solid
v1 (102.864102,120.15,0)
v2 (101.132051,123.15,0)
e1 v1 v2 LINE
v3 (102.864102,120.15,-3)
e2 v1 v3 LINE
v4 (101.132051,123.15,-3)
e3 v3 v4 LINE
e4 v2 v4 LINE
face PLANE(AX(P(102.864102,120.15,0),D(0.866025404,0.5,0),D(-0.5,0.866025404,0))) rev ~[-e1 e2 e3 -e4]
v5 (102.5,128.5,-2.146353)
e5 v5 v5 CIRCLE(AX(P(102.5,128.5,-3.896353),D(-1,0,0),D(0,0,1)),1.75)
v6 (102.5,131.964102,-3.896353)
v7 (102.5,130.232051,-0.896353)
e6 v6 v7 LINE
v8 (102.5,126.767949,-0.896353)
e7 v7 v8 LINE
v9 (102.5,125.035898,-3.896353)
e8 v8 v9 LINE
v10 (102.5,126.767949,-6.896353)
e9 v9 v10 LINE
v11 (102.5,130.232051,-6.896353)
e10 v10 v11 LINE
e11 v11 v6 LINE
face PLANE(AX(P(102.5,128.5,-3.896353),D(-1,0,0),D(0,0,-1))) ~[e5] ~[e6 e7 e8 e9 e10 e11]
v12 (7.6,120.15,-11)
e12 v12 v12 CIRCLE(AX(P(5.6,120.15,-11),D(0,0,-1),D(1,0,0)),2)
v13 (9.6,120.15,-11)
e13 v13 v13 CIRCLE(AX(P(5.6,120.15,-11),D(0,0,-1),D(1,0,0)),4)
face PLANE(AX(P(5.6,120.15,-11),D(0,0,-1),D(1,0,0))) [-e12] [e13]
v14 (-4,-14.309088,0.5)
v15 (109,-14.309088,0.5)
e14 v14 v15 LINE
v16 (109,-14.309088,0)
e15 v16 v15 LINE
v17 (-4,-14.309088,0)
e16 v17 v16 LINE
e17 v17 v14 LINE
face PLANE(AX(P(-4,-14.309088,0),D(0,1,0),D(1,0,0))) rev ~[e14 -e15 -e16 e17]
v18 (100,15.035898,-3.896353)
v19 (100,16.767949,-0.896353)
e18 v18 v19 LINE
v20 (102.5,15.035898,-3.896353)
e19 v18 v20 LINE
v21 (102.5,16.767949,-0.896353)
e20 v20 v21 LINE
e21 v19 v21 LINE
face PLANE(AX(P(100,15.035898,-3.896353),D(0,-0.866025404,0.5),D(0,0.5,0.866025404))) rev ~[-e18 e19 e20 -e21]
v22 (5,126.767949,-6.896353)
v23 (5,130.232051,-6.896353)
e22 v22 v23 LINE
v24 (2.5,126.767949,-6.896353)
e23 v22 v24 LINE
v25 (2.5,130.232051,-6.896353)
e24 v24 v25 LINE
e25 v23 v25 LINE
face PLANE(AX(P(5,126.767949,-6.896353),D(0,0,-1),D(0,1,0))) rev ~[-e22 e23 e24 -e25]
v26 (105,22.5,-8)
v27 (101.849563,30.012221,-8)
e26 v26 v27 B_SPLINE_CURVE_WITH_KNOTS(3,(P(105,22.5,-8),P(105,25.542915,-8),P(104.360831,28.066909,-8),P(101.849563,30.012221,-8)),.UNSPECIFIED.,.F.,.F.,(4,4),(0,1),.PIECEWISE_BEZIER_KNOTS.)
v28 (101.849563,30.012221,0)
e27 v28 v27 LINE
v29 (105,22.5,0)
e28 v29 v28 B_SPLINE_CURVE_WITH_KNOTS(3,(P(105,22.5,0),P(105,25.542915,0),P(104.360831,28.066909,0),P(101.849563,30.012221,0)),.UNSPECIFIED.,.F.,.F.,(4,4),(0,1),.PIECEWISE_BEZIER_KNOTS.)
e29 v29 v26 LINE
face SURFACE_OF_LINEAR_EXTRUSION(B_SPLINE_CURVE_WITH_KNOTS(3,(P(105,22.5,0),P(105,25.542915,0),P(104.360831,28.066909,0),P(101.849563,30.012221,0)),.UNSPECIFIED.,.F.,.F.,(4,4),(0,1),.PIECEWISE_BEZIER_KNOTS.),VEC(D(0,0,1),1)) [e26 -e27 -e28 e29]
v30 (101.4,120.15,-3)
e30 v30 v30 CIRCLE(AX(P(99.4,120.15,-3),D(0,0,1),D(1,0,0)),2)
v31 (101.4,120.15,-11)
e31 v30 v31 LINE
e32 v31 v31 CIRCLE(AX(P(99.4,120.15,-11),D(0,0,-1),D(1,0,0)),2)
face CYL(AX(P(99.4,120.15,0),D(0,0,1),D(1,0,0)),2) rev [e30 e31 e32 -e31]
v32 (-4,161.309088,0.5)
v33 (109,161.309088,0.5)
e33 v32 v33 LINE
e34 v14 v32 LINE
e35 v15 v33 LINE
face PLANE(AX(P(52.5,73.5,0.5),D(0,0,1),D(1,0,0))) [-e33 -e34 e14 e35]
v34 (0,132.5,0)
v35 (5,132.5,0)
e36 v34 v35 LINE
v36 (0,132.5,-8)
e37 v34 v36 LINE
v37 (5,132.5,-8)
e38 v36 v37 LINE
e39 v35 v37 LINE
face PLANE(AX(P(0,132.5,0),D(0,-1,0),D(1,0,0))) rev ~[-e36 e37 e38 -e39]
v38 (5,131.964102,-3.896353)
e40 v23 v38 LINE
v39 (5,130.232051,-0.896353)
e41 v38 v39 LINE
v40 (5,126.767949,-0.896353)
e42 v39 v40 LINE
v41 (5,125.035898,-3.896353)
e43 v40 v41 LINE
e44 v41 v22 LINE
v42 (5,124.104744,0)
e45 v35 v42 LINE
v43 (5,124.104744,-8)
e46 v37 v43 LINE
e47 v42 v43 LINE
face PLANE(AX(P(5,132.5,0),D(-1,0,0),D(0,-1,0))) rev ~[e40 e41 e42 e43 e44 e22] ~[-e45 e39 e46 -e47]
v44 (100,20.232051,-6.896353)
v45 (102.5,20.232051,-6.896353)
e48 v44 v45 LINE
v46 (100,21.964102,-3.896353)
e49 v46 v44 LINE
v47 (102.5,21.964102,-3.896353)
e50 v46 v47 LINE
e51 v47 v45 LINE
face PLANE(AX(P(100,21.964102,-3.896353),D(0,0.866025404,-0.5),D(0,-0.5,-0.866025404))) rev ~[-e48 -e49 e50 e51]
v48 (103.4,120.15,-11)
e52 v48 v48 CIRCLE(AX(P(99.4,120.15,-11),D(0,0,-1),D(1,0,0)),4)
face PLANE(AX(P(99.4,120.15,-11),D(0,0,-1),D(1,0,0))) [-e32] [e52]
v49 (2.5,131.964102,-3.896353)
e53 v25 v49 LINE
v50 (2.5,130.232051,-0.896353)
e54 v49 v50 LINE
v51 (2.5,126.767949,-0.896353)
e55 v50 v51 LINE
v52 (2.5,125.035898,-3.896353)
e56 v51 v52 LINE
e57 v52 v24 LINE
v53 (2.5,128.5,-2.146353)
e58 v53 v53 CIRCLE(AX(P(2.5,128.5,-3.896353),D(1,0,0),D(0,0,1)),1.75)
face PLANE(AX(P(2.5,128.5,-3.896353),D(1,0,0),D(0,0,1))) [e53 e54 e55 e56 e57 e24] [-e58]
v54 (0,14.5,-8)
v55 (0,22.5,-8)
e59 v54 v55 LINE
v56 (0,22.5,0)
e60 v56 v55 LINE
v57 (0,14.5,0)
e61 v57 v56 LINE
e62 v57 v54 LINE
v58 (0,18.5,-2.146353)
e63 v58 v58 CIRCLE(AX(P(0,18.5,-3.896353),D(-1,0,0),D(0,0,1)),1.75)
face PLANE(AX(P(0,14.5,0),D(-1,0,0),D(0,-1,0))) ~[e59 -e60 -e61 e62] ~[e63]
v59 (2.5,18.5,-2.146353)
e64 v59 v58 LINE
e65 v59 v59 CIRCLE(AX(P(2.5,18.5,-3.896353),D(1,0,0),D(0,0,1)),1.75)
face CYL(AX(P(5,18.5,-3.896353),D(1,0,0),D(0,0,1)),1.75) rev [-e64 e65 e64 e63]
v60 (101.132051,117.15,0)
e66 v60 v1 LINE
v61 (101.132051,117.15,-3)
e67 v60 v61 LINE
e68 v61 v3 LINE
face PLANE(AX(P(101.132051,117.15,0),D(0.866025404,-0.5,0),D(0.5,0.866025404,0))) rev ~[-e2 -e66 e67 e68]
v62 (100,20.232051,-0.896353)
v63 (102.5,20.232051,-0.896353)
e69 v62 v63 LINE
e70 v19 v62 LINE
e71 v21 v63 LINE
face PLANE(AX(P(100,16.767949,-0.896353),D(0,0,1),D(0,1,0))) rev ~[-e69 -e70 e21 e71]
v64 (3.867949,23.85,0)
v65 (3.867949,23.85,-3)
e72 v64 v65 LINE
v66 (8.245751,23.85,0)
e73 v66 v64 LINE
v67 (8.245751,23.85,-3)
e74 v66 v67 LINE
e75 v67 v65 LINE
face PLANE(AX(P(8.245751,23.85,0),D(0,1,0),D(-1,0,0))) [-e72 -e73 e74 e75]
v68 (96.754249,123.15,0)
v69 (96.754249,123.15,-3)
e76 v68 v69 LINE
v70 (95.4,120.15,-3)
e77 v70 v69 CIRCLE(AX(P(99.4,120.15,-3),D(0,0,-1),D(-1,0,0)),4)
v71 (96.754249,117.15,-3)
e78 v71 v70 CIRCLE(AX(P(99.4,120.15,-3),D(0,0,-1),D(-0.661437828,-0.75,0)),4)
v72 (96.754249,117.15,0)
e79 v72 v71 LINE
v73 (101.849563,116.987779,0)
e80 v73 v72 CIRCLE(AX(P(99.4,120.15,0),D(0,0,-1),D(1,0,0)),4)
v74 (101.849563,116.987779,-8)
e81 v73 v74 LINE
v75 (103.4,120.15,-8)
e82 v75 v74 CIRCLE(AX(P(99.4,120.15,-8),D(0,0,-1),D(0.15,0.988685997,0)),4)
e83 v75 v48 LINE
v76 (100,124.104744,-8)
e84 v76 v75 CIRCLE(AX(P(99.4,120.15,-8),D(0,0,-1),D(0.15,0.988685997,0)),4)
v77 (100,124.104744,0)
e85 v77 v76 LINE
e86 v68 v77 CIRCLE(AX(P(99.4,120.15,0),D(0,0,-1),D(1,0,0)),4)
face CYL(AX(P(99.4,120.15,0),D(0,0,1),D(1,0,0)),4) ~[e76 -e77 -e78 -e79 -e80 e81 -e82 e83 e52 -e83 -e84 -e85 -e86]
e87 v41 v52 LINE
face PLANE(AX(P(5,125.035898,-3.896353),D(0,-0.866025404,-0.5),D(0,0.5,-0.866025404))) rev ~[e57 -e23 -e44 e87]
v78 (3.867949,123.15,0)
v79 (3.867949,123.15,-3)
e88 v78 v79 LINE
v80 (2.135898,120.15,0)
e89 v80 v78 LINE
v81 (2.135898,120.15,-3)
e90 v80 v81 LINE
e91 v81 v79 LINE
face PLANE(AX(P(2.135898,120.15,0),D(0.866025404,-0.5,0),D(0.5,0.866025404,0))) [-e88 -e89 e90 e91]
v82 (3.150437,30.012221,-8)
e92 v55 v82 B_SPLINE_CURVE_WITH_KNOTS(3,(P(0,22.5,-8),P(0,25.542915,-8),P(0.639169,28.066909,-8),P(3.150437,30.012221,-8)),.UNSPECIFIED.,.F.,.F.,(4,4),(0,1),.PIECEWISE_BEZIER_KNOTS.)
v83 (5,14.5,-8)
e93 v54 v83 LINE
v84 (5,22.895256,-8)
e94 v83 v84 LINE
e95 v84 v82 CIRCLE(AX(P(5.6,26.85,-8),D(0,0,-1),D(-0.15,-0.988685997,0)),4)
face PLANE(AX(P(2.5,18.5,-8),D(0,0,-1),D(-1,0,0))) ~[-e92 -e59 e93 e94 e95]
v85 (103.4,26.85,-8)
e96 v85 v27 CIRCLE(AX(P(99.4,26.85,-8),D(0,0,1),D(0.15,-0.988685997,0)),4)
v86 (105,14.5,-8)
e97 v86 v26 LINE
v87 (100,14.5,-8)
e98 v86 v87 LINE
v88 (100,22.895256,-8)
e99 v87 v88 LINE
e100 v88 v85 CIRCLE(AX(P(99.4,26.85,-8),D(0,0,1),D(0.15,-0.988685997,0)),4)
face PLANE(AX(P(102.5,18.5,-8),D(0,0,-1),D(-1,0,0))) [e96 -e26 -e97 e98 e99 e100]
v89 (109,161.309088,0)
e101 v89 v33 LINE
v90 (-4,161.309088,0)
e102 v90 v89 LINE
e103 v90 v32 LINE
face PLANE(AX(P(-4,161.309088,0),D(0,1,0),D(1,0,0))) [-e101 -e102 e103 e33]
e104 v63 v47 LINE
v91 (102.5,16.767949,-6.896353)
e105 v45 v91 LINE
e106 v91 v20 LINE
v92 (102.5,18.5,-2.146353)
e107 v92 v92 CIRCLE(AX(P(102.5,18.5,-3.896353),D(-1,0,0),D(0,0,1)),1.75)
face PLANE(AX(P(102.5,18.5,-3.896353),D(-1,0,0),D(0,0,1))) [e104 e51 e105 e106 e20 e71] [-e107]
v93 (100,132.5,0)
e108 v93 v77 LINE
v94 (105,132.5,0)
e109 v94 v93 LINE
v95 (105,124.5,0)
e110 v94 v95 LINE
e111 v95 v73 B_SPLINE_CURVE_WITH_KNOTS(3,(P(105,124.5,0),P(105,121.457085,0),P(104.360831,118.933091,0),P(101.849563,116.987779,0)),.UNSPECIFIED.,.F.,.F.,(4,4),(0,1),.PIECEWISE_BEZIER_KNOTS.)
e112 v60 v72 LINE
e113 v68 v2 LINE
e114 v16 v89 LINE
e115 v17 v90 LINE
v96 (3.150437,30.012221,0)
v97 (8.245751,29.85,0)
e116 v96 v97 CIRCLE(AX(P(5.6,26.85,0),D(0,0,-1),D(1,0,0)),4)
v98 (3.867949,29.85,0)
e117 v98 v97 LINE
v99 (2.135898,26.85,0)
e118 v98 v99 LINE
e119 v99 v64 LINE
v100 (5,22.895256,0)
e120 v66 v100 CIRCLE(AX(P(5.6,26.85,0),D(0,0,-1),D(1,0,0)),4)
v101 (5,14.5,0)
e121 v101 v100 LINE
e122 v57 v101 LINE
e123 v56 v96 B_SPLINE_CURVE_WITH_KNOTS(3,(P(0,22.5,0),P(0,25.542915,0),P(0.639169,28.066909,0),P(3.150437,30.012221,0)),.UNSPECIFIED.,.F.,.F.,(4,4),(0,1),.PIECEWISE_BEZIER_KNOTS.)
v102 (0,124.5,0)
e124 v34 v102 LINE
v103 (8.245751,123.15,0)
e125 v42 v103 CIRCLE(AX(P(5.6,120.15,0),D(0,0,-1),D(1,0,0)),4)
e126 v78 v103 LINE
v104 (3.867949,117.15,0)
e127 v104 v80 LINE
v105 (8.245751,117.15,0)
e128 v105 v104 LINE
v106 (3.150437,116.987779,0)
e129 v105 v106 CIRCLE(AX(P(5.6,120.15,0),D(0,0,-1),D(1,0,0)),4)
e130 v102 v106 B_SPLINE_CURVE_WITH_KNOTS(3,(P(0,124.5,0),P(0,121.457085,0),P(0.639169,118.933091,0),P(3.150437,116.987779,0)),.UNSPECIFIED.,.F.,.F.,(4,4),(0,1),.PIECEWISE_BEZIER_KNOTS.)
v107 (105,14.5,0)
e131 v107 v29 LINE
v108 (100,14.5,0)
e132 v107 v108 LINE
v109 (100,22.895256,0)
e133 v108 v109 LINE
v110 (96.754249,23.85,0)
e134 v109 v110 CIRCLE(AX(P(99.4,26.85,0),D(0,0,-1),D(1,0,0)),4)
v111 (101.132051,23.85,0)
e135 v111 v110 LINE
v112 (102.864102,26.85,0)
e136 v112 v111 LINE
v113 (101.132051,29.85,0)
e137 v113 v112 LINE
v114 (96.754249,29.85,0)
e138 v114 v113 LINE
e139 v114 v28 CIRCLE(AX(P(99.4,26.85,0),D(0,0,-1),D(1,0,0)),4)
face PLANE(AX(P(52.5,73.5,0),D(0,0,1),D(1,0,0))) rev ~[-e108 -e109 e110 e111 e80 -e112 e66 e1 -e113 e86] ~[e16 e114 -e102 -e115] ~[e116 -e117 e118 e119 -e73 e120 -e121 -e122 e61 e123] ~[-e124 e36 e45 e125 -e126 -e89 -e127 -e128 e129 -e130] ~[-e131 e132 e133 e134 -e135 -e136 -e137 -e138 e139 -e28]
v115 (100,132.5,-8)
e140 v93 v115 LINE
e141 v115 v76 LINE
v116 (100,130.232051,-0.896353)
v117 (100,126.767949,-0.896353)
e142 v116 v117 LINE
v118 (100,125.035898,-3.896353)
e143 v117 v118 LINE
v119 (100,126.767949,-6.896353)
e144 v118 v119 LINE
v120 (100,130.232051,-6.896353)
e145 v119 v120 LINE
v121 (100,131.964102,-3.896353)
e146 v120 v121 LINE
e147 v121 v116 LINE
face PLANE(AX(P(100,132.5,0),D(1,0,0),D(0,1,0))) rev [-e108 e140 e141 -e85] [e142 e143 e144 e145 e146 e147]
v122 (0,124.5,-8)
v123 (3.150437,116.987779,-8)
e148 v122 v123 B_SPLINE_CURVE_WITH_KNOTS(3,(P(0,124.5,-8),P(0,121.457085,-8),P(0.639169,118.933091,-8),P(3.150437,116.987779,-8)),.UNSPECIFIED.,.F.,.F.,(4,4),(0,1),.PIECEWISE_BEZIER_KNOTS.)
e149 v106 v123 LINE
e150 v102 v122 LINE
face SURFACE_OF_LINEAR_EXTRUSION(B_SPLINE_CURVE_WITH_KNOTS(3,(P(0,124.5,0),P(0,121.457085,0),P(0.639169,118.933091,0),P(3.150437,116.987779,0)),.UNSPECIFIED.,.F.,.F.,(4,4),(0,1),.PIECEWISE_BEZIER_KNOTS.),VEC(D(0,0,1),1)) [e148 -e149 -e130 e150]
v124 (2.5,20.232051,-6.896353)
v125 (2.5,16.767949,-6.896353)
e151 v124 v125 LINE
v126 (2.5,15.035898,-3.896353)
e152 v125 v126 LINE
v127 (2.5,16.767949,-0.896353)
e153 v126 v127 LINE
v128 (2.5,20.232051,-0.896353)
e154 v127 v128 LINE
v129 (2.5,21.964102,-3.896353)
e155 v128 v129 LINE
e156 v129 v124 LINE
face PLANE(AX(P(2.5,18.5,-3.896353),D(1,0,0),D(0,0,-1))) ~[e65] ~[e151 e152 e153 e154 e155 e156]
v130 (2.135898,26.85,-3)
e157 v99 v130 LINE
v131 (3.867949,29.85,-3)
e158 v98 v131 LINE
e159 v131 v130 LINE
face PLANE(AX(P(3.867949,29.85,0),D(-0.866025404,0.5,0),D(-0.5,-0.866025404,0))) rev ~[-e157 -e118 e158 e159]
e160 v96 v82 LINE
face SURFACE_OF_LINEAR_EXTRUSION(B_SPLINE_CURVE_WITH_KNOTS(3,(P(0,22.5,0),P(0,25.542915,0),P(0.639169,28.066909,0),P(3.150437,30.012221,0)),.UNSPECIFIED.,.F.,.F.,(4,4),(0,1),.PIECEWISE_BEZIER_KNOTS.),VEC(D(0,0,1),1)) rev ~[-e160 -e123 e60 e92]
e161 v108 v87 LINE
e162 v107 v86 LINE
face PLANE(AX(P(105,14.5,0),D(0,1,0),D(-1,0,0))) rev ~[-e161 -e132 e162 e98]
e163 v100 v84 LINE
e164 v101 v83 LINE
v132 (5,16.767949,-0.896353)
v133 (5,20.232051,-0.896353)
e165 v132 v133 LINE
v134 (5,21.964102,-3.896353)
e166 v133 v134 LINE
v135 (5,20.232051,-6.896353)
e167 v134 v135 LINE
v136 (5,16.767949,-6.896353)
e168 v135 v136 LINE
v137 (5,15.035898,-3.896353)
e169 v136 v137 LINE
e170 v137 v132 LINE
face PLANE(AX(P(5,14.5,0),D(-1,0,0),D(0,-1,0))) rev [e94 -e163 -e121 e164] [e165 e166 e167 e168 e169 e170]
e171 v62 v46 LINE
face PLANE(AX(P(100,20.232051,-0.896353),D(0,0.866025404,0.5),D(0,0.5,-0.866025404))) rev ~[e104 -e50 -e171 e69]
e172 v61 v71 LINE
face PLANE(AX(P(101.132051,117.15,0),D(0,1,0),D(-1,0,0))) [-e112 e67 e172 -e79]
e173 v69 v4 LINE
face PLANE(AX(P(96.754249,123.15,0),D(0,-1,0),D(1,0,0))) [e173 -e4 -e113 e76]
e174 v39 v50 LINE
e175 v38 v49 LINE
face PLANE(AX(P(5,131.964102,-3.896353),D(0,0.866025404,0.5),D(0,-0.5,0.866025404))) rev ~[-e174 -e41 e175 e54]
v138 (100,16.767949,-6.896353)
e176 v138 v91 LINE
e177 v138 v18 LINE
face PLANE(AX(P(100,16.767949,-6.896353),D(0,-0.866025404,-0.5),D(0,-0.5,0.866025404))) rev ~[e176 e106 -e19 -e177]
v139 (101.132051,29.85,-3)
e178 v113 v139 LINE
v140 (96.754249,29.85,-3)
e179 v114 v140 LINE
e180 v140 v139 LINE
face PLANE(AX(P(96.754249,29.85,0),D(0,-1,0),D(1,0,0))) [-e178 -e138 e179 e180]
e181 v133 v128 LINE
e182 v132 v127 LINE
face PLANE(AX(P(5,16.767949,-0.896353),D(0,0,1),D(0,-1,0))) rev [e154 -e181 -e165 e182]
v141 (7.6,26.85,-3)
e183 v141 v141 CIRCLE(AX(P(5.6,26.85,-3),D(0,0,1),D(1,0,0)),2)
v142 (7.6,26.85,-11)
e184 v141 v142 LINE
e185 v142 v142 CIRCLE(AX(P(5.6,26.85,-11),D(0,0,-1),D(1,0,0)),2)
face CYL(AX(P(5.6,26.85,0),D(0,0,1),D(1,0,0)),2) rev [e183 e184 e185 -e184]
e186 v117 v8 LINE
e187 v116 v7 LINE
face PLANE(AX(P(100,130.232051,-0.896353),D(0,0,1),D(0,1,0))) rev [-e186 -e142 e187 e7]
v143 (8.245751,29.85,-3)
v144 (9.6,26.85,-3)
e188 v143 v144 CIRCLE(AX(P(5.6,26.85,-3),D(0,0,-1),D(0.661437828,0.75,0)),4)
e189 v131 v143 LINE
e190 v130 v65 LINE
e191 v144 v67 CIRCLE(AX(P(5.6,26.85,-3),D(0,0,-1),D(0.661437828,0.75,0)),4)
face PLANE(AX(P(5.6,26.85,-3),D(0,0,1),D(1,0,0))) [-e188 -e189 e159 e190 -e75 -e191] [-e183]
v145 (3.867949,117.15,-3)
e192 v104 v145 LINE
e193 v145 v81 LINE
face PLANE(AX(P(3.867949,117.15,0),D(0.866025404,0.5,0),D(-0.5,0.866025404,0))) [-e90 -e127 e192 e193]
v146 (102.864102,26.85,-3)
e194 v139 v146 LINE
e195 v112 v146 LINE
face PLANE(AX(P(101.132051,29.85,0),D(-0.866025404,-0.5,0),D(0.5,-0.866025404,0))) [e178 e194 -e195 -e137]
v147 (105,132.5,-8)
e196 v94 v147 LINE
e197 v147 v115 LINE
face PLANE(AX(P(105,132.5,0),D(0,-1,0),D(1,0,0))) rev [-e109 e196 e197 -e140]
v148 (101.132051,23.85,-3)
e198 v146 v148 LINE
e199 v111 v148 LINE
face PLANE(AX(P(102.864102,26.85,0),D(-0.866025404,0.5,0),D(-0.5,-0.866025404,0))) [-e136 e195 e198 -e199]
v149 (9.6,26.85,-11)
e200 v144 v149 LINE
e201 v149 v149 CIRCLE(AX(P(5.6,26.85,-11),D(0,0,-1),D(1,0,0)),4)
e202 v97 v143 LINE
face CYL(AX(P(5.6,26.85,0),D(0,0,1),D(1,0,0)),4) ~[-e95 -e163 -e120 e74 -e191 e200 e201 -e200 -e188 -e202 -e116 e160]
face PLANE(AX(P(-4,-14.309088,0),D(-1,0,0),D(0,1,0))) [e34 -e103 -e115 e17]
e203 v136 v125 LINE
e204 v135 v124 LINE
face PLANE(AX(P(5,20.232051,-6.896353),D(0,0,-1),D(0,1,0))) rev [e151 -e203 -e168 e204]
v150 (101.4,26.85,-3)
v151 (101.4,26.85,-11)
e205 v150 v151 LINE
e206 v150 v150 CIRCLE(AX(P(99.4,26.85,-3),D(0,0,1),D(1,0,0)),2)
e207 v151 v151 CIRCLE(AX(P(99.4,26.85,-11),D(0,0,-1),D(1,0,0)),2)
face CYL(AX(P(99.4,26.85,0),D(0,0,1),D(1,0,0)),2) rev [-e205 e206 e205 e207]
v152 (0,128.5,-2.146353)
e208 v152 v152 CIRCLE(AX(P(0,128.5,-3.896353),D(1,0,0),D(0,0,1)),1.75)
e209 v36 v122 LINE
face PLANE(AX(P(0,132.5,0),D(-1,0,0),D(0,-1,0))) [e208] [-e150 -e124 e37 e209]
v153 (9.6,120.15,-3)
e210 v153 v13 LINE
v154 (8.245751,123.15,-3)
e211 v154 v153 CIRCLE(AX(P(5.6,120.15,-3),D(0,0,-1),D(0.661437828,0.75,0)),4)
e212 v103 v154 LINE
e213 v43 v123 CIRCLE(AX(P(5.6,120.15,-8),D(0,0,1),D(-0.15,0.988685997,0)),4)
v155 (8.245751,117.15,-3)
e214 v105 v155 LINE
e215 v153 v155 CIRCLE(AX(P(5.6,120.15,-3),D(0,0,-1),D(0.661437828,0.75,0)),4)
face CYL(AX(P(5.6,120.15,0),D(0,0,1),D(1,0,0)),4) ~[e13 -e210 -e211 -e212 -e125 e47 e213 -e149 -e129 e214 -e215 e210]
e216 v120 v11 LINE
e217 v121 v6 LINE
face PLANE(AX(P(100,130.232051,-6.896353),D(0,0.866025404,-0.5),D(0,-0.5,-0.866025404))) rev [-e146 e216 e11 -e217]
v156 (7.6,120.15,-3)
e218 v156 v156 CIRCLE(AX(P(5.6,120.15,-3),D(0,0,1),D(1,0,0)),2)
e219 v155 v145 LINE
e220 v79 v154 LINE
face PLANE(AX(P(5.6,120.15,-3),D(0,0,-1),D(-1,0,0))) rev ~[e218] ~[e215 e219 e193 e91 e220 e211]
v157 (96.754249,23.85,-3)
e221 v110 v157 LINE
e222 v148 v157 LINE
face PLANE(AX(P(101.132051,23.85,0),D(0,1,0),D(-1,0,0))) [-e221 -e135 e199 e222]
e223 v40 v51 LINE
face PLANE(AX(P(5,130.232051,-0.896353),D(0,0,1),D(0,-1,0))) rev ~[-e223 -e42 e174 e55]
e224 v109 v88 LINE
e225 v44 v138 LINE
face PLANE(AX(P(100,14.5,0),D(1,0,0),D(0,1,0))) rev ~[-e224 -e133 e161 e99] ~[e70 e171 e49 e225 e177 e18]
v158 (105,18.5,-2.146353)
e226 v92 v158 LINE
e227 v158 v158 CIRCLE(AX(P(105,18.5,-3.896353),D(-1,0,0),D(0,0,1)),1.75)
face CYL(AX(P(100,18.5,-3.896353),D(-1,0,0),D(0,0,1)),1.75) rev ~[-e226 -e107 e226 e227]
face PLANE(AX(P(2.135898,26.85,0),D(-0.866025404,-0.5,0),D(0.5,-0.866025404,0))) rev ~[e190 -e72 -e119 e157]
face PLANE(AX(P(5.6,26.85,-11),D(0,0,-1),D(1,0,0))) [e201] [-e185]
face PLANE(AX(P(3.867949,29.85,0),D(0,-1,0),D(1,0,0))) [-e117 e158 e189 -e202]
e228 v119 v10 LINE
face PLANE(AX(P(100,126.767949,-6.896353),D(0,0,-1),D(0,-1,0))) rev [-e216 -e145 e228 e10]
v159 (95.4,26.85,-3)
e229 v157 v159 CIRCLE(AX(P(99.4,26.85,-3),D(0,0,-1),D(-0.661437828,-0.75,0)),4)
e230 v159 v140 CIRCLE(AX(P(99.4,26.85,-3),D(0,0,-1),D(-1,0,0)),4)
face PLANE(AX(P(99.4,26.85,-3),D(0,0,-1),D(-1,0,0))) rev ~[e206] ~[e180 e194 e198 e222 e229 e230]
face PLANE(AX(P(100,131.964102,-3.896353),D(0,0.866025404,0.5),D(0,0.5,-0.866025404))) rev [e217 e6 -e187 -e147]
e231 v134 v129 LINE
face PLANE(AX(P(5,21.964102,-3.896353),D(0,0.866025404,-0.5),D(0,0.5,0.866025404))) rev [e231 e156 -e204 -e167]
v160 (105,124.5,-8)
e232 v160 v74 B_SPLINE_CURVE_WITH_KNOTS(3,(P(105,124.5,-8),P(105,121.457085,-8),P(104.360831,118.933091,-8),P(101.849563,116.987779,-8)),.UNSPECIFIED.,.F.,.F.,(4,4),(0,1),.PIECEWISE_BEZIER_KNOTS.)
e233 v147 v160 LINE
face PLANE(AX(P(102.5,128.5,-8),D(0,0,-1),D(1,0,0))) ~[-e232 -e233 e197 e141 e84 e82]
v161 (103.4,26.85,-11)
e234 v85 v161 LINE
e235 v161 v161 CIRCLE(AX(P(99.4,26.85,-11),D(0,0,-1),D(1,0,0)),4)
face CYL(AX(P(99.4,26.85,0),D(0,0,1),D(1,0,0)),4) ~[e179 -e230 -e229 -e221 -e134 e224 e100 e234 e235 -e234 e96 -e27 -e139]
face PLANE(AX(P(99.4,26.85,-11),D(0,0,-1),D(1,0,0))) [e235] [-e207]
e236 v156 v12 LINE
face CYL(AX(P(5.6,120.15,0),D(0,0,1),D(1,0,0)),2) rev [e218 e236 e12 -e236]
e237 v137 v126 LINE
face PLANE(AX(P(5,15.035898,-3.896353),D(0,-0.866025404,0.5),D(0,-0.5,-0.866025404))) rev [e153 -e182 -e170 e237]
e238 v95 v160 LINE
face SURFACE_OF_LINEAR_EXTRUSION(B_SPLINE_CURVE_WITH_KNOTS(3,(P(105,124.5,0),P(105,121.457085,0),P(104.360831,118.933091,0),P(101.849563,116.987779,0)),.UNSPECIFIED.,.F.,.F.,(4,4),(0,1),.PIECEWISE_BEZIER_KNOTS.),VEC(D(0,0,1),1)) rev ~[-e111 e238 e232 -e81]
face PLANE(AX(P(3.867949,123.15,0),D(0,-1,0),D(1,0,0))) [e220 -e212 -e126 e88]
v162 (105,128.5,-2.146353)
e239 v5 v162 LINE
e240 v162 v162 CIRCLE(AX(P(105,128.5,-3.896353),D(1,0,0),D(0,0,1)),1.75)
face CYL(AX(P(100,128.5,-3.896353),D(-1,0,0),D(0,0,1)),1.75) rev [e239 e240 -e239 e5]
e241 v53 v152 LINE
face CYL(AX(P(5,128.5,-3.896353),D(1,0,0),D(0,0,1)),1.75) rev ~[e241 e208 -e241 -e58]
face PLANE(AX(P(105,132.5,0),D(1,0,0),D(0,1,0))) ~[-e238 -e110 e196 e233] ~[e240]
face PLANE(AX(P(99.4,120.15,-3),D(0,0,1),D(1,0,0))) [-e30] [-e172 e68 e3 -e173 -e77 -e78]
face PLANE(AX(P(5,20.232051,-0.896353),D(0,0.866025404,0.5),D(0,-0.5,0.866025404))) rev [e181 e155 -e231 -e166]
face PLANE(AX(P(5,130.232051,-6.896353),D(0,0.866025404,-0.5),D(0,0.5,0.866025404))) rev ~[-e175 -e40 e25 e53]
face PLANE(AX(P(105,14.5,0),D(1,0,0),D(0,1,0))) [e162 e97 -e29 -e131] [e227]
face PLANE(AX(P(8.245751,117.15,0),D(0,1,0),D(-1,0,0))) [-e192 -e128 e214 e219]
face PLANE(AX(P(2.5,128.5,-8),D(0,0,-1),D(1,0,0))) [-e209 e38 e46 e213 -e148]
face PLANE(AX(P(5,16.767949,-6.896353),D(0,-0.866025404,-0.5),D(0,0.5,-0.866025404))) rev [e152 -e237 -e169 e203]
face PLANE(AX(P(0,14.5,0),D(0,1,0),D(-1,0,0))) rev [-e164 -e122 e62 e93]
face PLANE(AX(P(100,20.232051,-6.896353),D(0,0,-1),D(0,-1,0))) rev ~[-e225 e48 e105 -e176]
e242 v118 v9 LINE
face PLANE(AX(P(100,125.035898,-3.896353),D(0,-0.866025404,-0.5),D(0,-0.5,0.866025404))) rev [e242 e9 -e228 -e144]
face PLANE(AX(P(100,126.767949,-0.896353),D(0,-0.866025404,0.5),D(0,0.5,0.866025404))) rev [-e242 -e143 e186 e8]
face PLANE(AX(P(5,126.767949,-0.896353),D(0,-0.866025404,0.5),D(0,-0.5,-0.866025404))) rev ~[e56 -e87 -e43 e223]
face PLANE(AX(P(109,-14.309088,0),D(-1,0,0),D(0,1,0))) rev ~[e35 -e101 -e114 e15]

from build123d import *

# Parameters (mm, degrees)
SKETCH1_W               = 113
SKETCH1_H               = 175.618176042
BOSS_EXTRUDE1_DEPTH     = 0.5
SKETCH2_R               = 4
SKETCH2_R_2             = 2
BOSS_EXTRUDE2_DEPTH     = 11
CUT_EXTRUDE1_DEPTH      = 3
SKETCH4_W               = 5
SKETCH4_H               = 8
BOSS_EXTRUDE3_DEPTH     = 8
CUT_EXTRUDE2_REACH      = 194.244
SKETCH5_R               = 1.75
CUT_EXTRUDE3_DEPTH      = 2.5
MIRROR2_COPY_1_SKETCH_W = 5
MIRROR2_COPY_1_SKETCH_H = 8
MIRROR2_COPY_1_DEPTH    = 8
MIRROR2_COPY_2_REACH    = 194.244
MIRROR2_COPY_2_SKETCH_R = 1.75
MIRROR2_COPY_3_DEPTH    = 2.5


with BuildPart() as part:
    # Sketch1 → Boss-Extrude1 (new body)
    with BuildSketch(Plane.XY):
        with Locations((52.5, 73.5)):
            Rectangle(SKETCH1_W, SKETCH1_H)
    extrude(amount=BOSS_EXTRUDE1_DEPTH)

    # Sketch2 → Boss-Extrude2 (add)
    with BuildSketch(Plane(origin=(0, 0, 0), x_dir=(-1, 0, 0), z_dir=(0, 0, -1))):
        with Locations(Location((-5.6, 120.15, 0), (0, 0, 180))):
            Circle(SKETCH2_R)
        with Locations(Location((-5.6, 120.15, 0), (0, 0, 180))):
            Circle(SKETCH2_R_2, mode=Mode.SUBTRACT)
        with Locations(Location((-5.6, 26.85, 0), (0, 0, 180))):
            Circle(SKETCH2_R)
        with Locations(Location((-5.6, 26.85, 0), (0, 0, 180))):
            Circle(SKETCH2_R_2, mode=Mode.SUBTRACT)
        with Locations(Location((-99.4, 26.85, 0), (0, 0, 180))):
            Circle(SKETCH2_R)
        with Locations(Location((-99.4, 26.85, 0), (0, 0, 180))):
            Circle(SKETCH2_R_2, mode=Mode.SUBTRACT)
        with Locations(Location((-99.4, 120.15, 0), (0, 0, 180))):
            Circle(SKETCH2_R)
        with Locations(Location((-99.4, 120.15, 0), (0, 0, 180))):
            Circle(SKETCH2_R_2, mode=Mode.SUBTRACT)
    extrude(amount=BOSS_EXTRUDE2_DEPTH)

    # Sketch3 → Cut-Extrude1 (cut)
    with BuildSketch(Plane(origin=(0, 0, 0), x_dir=(-1, 0, 0), z_dir=(0, 0, -1))):
        Polygon((-101.132050808, 123.15), (-97.667949192, 123.15), (-95.935898385, 120.15), (-97.667949192, 117.15), (-101.132050808, 117.15), (-102.864101615, 120.15), align=None)
        with BuildLine():
            Line((-95.935898385, 120.15), (-97.667949192, 117.15))
            Line((-97.667949192, 117.15), (-96.754248689, 117.15))
            ThreePointArc((-96.754248689, 117.15), (-95.754248689, 118.504248689), (-95.4, 120.15))
            ThreePointArc((-95.4, 120.15), (-95.754248689, 121.795751311), (-96.754248689, 123.15))
            Line((-96.754248689, 123.15), (-97.667949192, 123.15))
            Line((-97.667949192, 123.15), (-95.935898385, 120.15))
        make_face()
        Polygon((-3.867949192, 123.15), (-7.332050808, 123.15), (-9.064101615, 120.15), (-7.332050808, 117.15), (-3.867949192, 117.15), (-2.135898385, 120.15), align=None)
        with BuildLine():
            Line((-9.064101615, 120.15), (-7.332050808, 123.15))
            Line((-7.332050808, 123.15), (-8.245751311, 123.15))
            ThreePointArc((-8.245751311, 123.15), (-9.6, 120.15), (-8.245751311, 117.15))
            Line((-8.245751311, 117.15), (-7.332050808, 117.15))
            Line((-7.332050808, 117.15), (-9.064101615, 120.15))
        make_face()
        Polygon((-3.867949192, 23.85), (-7.332050808, 23.85), (-9.064101615, 26.85), (-7.332050808, 29.85), (-3.867949192, 29.85), (-2.135898385, 26.85), align=None)
        with BuildLine():
            Line((-9.064101615, 26.85), (-7.332050808, 29.85))
            Line((-7.332050808, 29.85), (-8.245751311, 29.85))
            ThreePointArc((-8.245751311, 29.85), (-9.6, 26.85), (-8.245751311, 23.85))
            Line((-8.245751311, 23.85), (-7.332050808, 23.85))
            Line((-7.332050808, 23.85), (-9.064101615, 26.85))
        make_face()
        Polygon((-101.132050808, 23.85), (-97.667949192, 23.85), (-95.935898385, 26.85), (-97.667949192, 29.85), (-101.132050808, 29.85), (-102.864101615, 26.85), align=None)
        with BuildLine():
            Line((-95.935898385, 26.85), (-97.667949192, 23.85))
            Line((-97.667949192, 23.85), (-96.754248689, 23.85))
            ThreePointArc((-96.754248689, 23.85), (-95.754248689, 25.204248689), (-95.4, 26.85))
            ThreePointArc((-95.4, 26.85), (-95.754248689, 28.495751311), (-96.754248689, 29.85))
            Line((-96.754248689, 29.85), (-97.667949192, 29.85))
            Line((-97.667949192, 29.85), (-95.935898385, 26.85))
        make_face()
    extrude(amount=CUT_EXTRUDE1_DEPTH, mode=Mode.SUBTRACT)

    # Sketch4 → Boss-Extrude3 (add)
    with BuildSketch(Plane(origin=(0, 0, 0), x_dir=(-1, 0, 0), z_dir=(0, 0, -1))):
        with Locations((-102.5, 18.5)):
            Rectangle(SKETCH4_W, SKETCH4_H)
        with BuildLine():
            add(Edge.make_bspline(
                [(-105, 22.5), (-105, 25.54291505), (-104.360830865, 28.066908547), (-101.849562653, 30.012221183)],
                knots=[0, 0, 0, 0, 1, 1, 1, 1], degree=3))
            Line((-105, 22.5), (-100, 22.5))
            Line((-100, 22.5), (-100, 22.895256013))
            ThreePointArc((-100, 22.895256013), (-103.271402382, 25.843896824), (-101.849562653, 30.012221183))
        make_face()
    boss_extrude3 = extrude(amount=BOSS_EXTRUDE3_DEPTH)

    # Sketch5 → Cut-Extrude2 (cut, up to next)
    with BuildSketch(Plane.ZY.offset(-100), mode=Mode.PRIVATE) as cut_extrude2_sk1:
        with Locations((-3.896353455, 18.5)):
            Circle(SKETCH5_R)
    cut_extrude2_tool1 = extrude(cut_extrude2_sk1.sketch, amount=-CUT_EXTRUDE2_REACH, mode=Mode.PRIVATE) & part.part
    cut_extrude2 = cut_extrude2_tool1.solids().sort_by_distance((100, 18.5, -3.896353))[0]
    add(cut_extrude2, mode=Mode.SUBTRACT)

    # Sketch6 → Cut-Extrude3 (cut)
    with BuildSketch(Plane.ZY.offset(-100)):
        Polygon((-3.896353455, 21.964101615), (-6.896353455, 20.232050808), (-6.896353455, 16.767949192), (-3.896353455, 15.035898385), (-0.896353455, 16.767949192), (-0.896353455, 20.232050808), align=None)
    cut_extrude3 = extrude(amount=-CUT_EXTRUDE3_DEPTH, mode=Mode.SUBTRACT)

    # Mirror1: Boss-Extrude3, Cut-Extrude2, Cut-Extrude3 across plane
    add(boss_extrude3.mirror(Plane.ZY.offset(-52.5)))
    add(cut_extrude2.mirror(Plane.ZY.offset(-52.5)), mode=Mode.SUBTRACT)
    add(cut_extrude3.mirror(Plane.ZY.offset(-52.5)), mode=Mode.SUBTRACT)

    # Mirror2: Boss-Extrude3, Cut-Extrude2, Cut-Extrude3 across plane
    add(boss_extrude3.mirror(Plane(origin=(0, 73.5, 0), x_dir=(0, 0, 1), z_dir=(0, -1, 0))))
    add(cut_extrude2.mirror(Plane(origin=(0, 73.5, 0), x_dir=(0, 0, 1), z_dir=(0, -1, 0))), mode=Mode.SUBTRACT)
    add(cut_extrude3.mirror(Plane(origin=(0, 73.5, 0), x_dir=(0, 0, 1), z_dir=(0, -1, 0))), mode=Mode.SUBTRACT)

    # Mirror2 copy 1 sketch → Mirror2 copy 1 (add)
    with BuildSketch(Plane(origin=(105, 147, 0), x_dir=(1, 0, 0), z_dir=(0, 0, -1))):
        with Locations((-102.5, 18.5)):
            Rectangle(MIRROR2_COPY_1_SKETCH_W, MIRROR2_COPY_1_SKETCH_H)
        with BuildLine():
            add(Edge.make_bspline(
                [(-105, 22.5), (-105, 25.54291505), (-104.360830865, 28.066908547), (-101.849562653, 30.012221183)],
                knots=[0, 0, 0, 0, 1, 1, 1, 1], degree=3))
            Line((-105, 22.5), (-100, 22.5))
            Line((-100, 22.5), (-100, 22.895256013))
            ThreePointArc((-100, 22.895256013), (-103.271402382, 25.843896824), (-101.849562653, 30.012221183))
        make_face()
    extrude(amount=MIRROR2_COPY_1_DEPTH)

    # Mirror2 copy 2 sketch → Mirror2 copy 2 (cut, up to next)
    with BuildSketch(Plane(origin=(5, 147, 0), x_dir=(0, 0, 1), z_dir=(1, 0, 0)), mode=Mode.PRIVATE) as mirror2_copy_2_sk1:
        with Locations((-3.896353455, 18.5)):
            Circle(MIRROR2_COPY_2_SKETCH_R)
    mirror2_copy_2_tool1 = extrude(mirror2_copy_2_sk1.sketch, amount=-MIRROR2_COPY_2_REACH, mode=Mode.PRIVATE) & part.part
    add(mirror2_copy_2_tool1.solids().sort_by_distance((5, 128.5, -3.896353))[0], mode=Mode.SUBTRACT)

    # Mirror2 copy 3 sketch → Mirror2 copy 3 (cut)
    with BuildSketch(Plane(origin=(5, 147, 0), x_dir=(0, 0, 1), z_dir=(1, 0, 0))):
        Polygon((-3.896353455, 21.964101615), (-6.896353455, 20.232050808), (-6.896353455, 16.767949192), (-3.896353455, 15.035898385), (-0.896353455, 16.767949192), (-0.896353455, 20.232050808), align=None)
    extrude(amount=-MIRROR2_COPY_3_DEPTH, mode=Mode.SUBTRACT)


solid = part.part
